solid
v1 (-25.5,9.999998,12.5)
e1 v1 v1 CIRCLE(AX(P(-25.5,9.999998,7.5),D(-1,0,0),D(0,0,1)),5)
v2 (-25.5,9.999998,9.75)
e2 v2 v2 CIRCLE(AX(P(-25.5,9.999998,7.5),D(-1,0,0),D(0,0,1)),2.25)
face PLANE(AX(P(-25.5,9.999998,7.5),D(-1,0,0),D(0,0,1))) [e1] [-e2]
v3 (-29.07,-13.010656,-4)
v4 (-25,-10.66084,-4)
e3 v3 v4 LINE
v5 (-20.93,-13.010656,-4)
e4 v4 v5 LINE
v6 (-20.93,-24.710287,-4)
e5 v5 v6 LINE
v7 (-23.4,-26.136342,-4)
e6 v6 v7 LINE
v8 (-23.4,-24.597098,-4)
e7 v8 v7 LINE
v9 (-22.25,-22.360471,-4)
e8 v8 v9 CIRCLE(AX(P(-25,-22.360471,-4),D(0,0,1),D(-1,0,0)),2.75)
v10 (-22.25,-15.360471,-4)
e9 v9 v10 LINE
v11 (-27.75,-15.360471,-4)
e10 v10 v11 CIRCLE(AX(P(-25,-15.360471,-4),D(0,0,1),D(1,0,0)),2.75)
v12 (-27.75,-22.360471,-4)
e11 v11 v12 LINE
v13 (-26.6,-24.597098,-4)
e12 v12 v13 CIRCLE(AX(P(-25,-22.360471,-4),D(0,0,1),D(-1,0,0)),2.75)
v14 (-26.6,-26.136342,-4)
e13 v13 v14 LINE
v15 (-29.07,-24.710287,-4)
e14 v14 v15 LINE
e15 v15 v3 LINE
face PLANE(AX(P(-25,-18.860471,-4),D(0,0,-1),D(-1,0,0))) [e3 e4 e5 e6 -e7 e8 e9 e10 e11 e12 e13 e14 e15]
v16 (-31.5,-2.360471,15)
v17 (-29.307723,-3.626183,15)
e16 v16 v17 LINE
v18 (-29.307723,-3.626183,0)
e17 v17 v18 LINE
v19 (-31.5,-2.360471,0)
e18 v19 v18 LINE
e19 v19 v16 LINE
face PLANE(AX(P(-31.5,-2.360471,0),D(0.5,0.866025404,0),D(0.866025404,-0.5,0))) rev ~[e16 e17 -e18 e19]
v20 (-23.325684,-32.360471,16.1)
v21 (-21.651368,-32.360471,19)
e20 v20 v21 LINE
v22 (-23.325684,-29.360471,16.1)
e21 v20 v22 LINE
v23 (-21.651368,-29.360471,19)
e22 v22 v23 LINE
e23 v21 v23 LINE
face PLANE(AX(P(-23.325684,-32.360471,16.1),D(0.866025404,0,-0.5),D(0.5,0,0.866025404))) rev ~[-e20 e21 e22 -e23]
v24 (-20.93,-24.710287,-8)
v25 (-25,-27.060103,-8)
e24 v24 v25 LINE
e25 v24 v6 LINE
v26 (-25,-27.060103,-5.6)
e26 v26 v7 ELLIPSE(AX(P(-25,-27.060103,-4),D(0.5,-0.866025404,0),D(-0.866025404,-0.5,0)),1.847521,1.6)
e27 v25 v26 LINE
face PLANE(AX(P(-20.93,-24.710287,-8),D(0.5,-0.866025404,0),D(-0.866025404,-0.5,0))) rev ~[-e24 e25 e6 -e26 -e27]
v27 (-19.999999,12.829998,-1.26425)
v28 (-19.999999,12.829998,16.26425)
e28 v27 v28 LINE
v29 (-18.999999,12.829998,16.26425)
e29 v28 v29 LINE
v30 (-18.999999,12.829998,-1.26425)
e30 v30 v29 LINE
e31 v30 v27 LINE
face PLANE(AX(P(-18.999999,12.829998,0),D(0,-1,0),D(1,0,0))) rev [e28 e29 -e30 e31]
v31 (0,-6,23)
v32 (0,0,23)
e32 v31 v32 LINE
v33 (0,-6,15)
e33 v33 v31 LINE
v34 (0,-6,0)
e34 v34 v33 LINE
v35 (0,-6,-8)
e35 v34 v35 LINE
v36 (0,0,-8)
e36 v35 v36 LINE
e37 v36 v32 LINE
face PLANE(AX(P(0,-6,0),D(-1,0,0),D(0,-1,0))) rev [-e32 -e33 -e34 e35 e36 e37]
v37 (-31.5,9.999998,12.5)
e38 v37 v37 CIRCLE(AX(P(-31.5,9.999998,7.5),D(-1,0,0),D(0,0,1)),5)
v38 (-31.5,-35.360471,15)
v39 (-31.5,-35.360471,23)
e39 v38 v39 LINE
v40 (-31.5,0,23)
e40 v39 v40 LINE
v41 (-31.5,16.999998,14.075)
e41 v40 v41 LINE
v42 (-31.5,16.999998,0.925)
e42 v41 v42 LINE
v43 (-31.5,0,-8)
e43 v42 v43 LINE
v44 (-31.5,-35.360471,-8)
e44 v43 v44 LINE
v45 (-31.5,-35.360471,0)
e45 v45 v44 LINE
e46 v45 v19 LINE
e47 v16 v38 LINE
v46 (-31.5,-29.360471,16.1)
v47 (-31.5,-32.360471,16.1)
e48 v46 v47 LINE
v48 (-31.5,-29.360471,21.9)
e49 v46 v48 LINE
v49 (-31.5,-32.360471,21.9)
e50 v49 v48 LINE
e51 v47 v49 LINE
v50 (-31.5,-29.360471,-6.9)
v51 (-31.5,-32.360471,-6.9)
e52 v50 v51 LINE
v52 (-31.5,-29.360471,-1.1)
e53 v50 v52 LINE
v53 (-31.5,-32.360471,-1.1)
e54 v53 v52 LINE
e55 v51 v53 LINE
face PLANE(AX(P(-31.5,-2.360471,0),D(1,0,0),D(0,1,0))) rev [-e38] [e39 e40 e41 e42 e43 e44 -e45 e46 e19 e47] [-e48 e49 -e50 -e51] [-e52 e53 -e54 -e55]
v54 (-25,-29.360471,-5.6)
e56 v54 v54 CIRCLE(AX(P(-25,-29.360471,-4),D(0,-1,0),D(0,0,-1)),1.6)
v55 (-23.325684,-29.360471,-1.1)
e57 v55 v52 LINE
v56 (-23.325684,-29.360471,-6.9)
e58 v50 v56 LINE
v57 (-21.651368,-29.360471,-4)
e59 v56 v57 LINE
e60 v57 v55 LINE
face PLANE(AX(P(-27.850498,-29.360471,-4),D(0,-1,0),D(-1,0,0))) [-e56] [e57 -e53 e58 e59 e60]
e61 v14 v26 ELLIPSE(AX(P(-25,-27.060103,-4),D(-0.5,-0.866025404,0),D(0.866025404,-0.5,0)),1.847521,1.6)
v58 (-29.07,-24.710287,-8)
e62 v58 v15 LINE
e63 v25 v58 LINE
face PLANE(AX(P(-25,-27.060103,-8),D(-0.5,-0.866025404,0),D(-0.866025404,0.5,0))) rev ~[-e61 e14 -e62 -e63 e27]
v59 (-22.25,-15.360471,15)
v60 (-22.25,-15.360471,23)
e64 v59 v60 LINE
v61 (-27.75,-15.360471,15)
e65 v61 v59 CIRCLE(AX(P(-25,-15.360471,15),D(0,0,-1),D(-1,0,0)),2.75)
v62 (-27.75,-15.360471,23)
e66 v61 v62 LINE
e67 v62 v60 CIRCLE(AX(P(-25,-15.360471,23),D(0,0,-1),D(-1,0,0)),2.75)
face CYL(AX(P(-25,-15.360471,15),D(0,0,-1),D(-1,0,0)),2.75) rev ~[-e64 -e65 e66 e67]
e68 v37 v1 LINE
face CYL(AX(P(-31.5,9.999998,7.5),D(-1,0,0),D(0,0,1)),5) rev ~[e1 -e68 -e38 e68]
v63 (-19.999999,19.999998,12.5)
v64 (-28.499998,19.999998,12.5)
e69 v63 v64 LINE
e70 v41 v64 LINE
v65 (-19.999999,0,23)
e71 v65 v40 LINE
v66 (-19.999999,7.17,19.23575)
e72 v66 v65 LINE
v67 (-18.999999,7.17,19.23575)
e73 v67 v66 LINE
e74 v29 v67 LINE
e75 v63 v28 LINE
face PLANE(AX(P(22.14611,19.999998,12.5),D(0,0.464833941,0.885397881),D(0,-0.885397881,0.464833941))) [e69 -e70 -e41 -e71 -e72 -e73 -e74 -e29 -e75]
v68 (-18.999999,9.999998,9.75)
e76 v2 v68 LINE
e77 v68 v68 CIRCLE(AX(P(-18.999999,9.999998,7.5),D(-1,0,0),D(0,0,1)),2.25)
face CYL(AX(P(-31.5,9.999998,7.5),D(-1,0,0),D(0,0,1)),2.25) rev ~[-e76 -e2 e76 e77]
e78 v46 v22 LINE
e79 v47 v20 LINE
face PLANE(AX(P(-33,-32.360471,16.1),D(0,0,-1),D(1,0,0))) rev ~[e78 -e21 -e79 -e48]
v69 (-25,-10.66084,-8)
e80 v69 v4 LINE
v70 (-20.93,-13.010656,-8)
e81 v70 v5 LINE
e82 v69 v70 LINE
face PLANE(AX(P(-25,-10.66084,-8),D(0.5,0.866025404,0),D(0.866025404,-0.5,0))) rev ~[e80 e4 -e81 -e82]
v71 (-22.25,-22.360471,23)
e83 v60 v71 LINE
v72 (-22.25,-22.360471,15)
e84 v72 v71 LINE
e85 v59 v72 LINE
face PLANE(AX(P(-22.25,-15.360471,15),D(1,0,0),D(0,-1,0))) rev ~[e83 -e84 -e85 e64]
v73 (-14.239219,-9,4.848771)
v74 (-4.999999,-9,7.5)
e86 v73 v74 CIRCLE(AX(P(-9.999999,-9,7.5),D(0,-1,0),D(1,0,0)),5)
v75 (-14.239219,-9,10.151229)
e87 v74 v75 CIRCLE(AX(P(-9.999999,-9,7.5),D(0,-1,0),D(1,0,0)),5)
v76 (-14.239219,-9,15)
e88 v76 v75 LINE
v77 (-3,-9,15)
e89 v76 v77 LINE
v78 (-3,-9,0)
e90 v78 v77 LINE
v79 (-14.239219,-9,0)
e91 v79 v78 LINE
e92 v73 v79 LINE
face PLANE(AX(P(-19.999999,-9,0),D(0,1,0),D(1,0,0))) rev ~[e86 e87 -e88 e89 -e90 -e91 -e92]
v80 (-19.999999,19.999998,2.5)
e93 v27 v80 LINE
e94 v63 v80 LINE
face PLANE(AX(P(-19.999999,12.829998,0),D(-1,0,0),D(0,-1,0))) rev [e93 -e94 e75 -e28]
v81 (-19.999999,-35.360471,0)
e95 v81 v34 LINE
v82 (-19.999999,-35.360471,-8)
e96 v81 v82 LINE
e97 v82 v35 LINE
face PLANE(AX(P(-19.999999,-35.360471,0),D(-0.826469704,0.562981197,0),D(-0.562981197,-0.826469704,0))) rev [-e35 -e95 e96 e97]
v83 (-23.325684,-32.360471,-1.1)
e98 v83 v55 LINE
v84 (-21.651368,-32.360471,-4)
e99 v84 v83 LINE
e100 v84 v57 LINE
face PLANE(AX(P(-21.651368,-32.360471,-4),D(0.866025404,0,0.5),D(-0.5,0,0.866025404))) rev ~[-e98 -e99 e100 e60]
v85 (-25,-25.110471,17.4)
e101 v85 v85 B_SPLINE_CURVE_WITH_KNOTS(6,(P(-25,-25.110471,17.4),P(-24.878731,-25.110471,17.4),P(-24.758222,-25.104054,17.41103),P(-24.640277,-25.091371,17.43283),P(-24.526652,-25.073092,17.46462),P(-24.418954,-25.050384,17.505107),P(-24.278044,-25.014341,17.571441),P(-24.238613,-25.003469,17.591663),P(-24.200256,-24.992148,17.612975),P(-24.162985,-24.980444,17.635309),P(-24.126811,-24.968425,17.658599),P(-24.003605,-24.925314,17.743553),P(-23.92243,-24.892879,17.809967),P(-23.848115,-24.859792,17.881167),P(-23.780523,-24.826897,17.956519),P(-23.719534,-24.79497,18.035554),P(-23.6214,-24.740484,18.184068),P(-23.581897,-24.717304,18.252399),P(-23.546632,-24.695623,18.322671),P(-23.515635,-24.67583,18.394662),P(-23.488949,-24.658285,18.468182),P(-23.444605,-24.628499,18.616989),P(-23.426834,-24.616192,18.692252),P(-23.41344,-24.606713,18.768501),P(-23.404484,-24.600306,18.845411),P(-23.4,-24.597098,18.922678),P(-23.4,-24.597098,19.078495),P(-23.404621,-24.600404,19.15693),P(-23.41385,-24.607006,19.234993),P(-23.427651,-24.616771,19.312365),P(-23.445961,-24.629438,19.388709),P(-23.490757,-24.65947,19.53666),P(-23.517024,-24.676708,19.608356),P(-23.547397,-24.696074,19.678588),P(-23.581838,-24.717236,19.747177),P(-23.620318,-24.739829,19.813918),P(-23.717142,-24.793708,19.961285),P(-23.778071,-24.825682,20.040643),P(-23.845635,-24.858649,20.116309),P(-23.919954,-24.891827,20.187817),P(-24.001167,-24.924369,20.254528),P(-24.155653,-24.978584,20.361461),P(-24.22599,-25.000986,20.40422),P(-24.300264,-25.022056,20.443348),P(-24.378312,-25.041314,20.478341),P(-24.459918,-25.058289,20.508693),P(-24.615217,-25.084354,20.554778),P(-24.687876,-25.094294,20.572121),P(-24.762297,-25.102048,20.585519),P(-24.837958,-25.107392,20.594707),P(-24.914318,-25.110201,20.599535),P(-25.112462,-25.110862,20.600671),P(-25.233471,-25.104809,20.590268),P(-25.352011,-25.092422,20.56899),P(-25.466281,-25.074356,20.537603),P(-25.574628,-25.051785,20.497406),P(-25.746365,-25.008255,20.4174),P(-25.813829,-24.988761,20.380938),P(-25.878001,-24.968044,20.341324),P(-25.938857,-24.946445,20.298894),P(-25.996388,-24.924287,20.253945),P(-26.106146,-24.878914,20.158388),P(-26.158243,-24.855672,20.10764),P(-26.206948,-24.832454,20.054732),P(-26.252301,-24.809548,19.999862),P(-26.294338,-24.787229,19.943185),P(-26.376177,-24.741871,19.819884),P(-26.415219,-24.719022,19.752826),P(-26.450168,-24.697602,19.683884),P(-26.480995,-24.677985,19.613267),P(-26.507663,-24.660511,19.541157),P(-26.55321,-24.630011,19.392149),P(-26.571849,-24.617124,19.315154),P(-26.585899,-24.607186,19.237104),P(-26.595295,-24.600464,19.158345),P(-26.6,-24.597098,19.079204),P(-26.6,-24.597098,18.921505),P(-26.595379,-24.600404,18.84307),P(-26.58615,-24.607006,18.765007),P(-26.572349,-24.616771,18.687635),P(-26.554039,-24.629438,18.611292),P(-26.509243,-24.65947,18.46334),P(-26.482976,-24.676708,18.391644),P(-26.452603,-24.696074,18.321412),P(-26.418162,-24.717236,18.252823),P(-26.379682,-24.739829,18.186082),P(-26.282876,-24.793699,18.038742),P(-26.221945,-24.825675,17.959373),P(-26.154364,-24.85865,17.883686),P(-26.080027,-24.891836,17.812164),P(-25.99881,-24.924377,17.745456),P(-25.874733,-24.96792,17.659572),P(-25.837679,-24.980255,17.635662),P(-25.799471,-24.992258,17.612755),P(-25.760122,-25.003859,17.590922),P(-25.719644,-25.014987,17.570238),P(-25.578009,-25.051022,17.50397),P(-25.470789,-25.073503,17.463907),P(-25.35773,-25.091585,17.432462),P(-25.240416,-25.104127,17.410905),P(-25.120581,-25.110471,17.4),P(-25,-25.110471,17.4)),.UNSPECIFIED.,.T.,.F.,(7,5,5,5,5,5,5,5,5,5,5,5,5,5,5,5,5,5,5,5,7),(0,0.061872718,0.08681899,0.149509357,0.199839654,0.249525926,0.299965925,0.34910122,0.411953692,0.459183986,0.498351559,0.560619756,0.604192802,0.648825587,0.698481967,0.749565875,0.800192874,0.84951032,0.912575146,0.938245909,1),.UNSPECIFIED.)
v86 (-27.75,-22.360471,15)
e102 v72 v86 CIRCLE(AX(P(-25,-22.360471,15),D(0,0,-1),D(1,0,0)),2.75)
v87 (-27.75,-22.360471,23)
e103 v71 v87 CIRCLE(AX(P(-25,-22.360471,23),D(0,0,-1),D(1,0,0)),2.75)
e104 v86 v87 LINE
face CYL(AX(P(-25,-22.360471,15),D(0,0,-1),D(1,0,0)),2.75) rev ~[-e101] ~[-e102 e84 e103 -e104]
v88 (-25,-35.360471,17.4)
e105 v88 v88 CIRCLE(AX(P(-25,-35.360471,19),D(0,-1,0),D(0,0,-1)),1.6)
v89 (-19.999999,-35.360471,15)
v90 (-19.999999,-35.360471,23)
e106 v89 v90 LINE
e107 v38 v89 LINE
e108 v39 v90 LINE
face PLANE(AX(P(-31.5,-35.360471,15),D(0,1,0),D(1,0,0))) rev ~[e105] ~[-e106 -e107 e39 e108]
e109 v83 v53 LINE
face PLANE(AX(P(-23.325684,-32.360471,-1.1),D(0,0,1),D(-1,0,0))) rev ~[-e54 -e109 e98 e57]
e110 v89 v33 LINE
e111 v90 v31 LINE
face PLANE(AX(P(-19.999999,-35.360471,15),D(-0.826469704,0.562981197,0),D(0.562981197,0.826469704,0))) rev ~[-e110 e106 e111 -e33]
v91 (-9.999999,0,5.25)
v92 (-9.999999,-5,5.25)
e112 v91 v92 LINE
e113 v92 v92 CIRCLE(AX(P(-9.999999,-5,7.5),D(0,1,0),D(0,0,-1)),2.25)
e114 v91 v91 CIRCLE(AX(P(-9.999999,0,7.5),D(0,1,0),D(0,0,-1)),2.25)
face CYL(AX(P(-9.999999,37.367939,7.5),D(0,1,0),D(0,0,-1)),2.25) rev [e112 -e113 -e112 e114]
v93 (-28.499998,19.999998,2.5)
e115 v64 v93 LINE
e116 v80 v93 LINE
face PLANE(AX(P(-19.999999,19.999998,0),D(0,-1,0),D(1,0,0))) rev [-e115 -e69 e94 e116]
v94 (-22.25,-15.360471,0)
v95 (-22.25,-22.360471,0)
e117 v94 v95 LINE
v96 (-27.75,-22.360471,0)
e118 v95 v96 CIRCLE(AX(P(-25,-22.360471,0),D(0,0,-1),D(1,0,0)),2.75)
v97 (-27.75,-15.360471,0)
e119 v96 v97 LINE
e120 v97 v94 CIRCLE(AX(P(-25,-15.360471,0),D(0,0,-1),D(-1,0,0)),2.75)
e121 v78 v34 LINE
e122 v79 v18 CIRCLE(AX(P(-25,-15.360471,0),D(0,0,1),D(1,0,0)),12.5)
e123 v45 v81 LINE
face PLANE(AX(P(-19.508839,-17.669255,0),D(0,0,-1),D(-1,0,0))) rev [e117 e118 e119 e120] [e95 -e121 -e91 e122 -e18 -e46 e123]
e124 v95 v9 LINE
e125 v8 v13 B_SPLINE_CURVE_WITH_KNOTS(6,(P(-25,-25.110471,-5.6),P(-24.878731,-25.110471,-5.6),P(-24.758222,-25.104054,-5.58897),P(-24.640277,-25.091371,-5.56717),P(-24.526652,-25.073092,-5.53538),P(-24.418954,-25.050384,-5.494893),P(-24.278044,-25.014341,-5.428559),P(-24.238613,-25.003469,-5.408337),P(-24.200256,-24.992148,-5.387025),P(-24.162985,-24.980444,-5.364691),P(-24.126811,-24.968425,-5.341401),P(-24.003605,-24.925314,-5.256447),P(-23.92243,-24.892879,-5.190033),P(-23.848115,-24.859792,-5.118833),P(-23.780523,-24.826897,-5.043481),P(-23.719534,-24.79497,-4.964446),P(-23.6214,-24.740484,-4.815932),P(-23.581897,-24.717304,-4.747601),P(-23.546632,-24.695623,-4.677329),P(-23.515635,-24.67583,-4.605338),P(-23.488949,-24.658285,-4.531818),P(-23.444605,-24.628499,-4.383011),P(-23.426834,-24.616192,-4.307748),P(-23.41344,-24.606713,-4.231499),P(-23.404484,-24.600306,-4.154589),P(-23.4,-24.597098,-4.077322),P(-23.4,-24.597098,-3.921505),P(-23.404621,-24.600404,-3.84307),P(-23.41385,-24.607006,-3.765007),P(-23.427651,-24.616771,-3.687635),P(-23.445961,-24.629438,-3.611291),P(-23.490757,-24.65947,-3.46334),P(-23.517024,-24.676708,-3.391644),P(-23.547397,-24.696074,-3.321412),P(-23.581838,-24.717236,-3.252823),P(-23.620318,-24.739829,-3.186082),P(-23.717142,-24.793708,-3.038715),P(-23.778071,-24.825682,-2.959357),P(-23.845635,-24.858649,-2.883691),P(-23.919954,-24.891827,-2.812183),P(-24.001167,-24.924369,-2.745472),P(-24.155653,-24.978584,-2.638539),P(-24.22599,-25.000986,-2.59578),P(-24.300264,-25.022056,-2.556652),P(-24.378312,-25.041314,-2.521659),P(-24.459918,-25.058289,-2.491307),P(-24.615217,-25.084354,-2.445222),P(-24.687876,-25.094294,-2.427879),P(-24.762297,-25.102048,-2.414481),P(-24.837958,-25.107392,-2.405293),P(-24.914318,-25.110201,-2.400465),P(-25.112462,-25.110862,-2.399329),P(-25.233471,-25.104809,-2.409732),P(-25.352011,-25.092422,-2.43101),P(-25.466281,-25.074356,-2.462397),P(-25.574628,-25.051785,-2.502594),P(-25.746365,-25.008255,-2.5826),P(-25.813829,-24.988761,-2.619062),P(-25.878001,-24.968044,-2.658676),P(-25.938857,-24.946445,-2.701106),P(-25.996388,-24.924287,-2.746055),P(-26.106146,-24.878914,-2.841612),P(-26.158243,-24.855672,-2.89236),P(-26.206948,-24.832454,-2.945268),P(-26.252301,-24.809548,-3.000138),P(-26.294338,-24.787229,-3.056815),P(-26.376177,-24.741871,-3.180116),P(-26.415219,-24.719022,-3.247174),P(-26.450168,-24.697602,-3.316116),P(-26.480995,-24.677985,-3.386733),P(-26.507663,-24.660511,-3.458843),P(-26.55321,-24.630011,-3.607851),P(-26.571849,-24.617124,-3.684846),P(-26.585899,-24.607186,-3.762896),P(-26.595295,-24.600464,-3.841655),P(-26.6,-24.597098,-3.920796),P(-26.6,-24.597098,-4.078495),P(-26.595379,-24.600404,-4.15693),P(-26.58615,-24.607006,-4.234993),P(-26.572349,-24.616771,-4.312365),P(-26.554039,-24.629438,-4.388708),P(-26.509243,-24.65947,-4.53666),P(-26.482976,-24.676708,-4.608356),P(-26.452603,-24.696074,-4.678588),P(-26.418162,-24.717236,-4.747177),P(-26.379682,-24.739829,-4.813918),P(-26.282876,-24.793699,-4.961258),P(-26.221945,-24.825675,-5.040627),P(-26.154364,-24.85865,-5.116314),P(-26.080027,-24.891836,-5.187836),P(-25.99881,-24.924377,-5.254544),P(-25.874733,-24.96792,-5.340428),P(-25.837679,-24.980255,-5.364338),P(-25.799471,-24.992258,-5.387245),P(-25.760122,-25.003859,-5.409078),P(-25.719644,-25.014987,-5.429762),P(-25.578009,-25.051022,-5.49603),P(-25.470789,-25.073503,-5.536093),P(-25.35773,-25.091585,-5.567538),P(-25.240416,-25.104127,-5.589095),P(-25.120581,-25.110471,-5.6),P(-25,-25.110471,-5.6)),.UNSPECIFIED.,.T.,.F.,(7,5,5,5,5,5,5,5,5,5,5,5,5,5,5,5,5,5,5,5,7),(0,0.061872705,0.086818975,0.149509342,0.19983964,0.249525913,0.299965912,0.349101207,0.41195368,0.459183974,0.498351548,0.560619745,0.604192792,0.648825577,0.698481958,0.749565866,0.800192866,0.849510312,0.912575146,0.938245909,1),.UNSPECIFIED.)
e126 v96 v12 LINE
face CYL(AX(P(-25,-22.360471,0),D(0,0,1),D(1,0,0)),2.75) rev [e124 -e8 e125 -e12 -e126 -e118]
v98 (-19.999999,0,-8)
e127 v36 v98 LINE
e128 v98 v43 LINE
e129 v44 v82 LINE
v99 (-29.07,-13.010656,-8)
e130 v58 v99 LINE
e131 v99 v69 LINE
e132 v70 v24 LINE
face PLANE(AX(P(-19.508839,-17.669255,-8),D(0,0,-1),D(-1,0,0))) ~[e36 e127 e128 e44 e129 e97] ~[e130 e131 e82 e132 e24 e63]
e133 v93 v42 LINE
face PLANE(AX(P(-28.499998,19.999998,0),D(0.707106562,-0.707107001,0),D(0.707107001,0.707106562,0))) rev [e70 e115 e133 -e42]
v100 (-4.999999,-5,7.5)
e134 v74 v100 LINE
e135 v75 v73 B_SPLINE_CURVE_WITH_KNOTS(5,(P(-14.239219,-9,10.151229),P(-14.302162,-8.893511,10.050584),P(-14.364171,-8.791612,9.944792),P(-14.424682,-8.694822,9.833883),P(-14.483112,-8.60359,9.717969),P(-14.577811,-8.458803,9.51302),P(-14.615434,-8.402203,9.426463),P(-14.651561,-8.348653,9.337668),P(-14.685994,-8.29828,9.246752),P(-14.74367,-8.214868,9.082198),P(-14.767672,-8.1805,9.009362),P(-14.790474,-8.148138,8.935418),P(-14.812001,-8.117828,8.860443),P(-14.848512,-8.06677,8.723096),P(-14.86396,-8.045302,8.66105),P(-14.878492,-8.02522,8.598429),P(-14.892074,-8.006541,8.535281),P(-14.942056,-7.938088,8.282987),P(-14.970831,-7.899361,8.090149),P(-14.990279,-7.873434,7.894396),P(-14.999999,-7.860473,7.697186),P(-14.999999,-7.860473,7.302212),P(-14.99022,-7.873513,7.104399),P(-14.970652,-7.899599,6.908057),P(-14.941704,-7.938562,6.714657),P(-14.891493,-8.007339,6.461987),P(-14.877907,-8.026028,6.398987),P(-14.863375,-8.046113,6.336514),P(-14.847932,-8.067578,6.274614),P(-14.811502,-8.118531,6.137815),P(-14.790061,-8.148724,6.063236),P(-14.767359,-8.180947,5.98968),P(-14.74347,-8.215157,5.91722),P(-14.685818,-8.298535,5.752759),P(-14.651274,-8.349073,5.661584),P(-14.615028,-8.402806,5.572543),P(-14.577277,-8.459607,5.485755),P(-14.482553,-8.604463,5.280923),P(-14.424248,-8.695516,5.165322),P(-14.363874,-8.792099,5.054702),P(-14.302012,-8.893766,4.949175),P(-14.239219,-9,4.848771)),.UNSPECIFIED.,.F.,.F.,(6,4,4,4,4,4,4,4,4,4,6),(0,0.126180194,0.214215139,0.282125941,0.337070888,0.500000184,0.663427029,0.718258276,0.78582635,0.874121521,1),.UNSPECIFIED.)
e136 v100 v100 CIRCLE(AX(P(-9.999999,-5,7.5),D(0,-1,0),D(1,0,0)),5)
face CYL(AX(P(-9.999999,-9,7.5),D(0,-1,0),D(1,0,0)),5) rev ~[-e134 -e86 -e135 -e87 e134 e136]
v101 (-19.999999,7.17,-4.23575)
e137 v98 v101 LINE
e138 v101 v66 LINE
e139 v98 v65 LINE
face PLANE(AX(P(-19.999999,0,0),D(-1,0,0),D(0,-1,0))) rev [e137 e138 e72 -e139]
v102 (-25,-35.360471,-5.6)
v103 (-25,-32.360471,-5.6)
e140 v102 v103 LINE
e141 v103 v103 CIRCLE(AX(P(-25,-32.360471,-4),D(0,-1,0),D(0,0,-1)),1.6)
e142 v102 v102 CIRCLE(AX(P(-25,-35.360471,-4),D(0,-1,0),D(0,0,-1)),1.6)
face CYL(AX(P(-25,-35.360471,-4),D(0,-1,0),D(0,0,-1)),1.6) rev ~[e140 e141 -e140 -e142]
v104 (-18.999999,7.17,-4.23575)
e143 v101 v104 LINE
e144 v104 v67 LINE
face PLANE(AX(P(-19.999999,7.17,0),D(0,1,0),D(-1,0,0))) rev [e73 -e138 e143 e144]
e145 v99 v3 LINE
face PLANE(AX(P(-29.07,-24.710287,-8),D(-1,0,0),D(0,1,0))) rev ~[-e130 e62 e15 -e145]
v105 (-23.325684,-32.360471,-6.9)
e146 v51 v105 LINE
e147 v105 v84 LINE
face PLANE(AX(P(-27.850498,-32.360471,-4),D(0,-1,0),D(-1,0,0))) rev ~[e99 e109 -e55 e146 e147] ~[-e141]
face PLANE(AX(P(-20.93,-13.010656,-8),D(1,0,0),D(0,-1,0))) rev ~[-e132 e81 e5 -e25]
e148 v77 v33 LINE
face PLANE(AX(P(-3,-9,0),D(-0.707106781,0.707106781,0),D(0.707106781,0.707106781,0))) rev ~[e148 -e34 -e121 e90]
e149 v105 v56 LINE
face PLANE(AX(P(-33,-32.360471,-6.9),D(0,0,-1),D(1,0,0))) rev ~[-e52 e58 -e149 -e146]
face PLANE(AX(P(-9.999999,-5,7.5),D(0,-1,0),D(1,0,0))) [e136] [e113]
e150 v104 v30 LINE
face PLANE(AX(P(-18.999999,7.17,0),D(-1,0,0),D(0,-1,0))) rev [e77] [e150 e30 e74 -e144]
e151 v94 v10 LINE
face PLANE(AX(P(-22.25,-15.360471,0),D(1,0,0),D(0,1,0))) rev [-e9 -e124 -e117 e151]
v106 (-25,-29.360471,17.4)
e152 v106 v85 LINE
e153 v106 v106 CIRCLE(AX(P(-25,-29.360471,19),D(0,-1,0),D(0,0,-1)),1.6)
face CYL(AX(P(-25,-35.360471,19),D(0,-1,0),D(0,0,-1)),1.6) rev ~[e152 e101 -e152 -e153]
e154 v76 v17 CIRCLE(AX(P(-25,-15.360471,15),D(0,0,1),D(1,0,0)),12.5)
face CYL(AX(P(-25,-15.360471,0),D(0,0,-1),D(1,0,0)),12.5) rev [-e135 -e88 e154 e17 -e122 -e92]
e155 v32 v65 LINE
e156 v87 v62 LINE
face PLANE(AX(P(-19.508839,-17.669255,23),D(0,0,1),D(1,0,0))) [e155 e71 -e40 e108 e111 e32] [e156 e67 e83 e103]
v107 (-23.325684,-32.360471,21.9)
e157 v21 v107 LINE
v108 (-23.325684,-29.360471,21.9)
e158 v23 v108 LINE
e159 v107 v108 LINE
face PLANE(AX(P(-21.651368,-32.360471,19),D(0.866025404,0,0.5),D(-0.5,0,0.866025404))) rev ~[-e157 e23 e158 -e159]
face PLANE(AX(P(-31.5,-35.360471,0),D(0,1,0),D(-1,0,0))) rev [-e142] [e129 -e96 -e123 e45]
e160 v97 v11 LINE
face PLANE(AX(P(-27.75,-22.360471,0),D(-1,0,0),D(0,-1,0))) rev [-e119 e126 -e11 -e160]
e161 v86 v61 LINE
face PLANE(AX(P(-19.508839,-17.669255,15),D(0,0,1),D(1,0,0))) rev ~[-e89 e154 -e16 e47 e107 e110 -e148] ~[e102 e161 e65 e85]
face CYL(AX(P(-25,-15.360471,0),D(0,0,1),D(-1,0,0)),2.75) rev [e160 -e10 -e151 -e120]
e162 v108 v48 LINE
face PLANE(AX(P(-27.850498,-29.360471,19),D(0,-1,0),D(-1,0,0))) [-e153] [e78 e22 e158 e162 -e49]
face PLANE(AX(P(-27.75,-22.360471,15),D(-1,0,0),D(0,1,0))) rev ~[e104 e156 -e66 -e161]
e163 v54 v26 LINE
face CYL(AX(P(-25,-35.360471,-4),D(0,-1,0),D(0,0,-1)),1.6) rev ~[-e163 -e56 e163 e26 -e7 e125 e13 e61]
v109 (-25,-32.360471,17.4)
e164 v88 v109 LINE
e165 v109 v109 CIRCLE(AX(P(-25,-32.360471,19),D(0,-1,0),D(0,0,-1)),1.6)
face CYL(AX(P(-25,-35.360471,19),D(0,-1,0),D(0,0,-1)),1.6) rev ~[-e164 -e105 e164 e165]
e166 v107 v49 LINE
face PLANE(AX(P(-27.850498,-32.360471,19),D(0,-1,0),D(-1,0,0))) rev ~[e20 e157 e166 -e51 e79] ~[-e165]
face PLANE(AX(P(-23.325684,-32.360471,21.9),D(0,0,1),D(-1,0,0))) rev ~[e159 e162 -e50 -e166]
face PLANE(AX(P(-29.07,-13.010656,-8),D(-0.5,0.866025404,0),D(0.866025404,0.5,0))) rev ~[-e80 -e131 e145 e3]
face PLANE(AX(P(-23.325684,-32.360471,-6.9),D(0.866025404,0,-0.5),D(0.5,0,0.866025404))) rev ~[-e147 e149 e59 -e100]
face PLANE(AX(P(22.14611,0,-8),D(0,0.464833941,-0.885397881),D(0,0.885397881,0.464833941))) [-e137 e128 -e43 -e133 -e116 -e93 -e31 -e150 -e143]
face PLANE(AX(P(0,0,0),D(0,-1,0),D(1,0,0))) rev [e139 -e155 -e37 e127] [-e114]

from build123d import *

# Parameters (mm, degrees)
RESSALTO_EXTRUS_O1_DEPTH   = 15
ESBO_O2_R                  = 2.25
CORTE_EXTRUS_O1_DEPTH      = 41.215045787
CORTE_EXTRUS_O2_DEPTH      = 46.367938746
CORTE_EXTRUS_O2_DEPTH_BACK = 46.367938746
ESBO_O3_R                  = 2.25
RESSALTO_EXTRUS_O2_DEPTH   = 8
CORTE_EXTRUS_O3_DEPTH      = 4
CORTE_EXTRUS_O4_REACH      = 69.72
CORTE_EXTRUS_O4_END_RADIUS = 2.75
ESBO_O6_R                  = 1.6
CORTE_EXTRUS_O5_DEPTH      = 3
ESBO_O8_R                  = 12.5
CORTE_EXTRUS_O6_DEPTH      = 15
CORTE_EXTRUS_O7_DEPTH      = 53.646110388
CORTE_EXTRUS_O7_DEPTH_BACK = 53.646110388
ESBO_O10_R                 = 5
CORTE_EXTRUS_O8_DEPTH      = 6
ESBO_O11_R                 = 5
CORTE_EXTRUS_O9_DEPTH      = 4


with BuildPart() as part:
    # Esboço1 → Ressalto-extrusão1 (new body)
    with BuildSketch(Plane.XY):
        Polygon((-28.499998137, 19.99999769), (-31.5, 16.99999769), (-31.5, -2.360471354), (-19.999999046, -9), (-3, -9), (0, -6), (0, 0), (-19.999999046, 0), (-19.999999046, 7.17), (-18.999999046, 7.17), (-18.999999046, 12.82999769), (-19.999999046, 12.82999769), (-19.999999046, 19.99999769), align=None)
    extrude(amount=RESSALTO_EXTRUS_O1_DEPTH)

    # Esboço2 → Corte-extrusão1 (cut, through all)
    with BuildSketch(Plane.ZY.offset(31.5)):
        with Locations((7.5, 9.99999769)):
            Circle(ESBO_O2_R)
    extrude(amount=-CORTE_EXTRUS_O1_DEPTH, mode=Mode.SUBTRACT)

    # Esboço3 → Corte-extrusão2 (cut, two sides: drawn at the far end of the back side and taken through both)
    with BuildSketch(Plane.XZ.offset(9).offset(-CORTE_EXTRUS_O2_DEPTH_BACK)):
        with Locations(Location((-9.999999046, 7.5, 0), (0, 0, 270))):
            Circle(ESBO_O3_R)
    extrude(amount=CORTE_EXTRUS_O2_DEPTH + CORTE_EXTRUS_O2_DEPTH_BACK, mode=Mode.SUBTRACT)

    # Esboço4 → Ressalto-extrusão2 (add)
    # profile 1 of 2: a face of its own
    with BuildSketch(Plane.XY.offset(15)):
        Polygon((-19.999999046, -9), (-31.5, -2.360471354), (-31.5, -35.360471354), (-19.999999046, -35.360471354), (0, -6), (-3, -9), align=None)
        with BuildLine():
            ThreePointArc((-22.25, -22.360471354), (-25, -25.110471354), (-27.75, -22.360471354))
            Line((-27.75, -22.360471354), (-27.75, -15.360471354))
            ThreePointArc((-27.75, -15.360471354), (-25, -12.610471354), (-22.25, -15.360471354))
            Line((-22.25, -15.360471354), (-22.25, -22.360471354))
        make_face(mode=Mode.SUBTRACT)
    # profile 2 of 2: a face of its own
    with BuildSketch(Plane.XY.offset(15)):
        Polygon((-31.5, 16.99999769), (-31.5, -2.360471354), (-19.999999046, -9), (-3, -9), (0, -6), (0, 0), (-19.999999046, 0), (-19.999999046, 7.17), (-18.999999046, 7.17), (-18.999999046, 12.82999769), (-19.999999046, 12.82999769), (-19.999999046, 19.99999769), (-28.499998137, 19.99999769), align=None)
    ressalto_extrus_o2 = extrude(amount=RESSALTO_EXTRUS_O2_DEPTH)

    # Espelhar1: Ressalto-extrusão2 across plane
    add(ressalto_extrus_o2.mirror(Plane.XY.offset(7.5)))

    # Esboço5 → Corte-extrusão3 (cut)
    with BuildSketch(Plane(origin=(0, 0, -8), x_dir=(-1, 0, 0), z_dir=(0, 0, -1))):
        Polygon((20.93, -17.9), (20.93, -24.710286949), (25, -27.060102545), (29.07, -24.710286949), (29.07, -17.9), (29.07, -13.010655758), (25, -10.660840163), (20.93, -13.010655758), align=None)
        with BuildLine():
            Line((22.25, -22.360471354), (22.25, -15.360471354))
            ThreePointArc((22.25, -15.360471354), (25, -12.610471354), (27.75, -15.360471354))
            Line((27.75, -15.360471354), (27.75, -22.360471354))
            ThreePointArc((27.75, -22.360471354), (25, -25.110471354), (22.25, -22.360471354))
        make_face(mode=Mode.SUBTRACT)
    extrude(amount=-CORTE_EXTRUS_O3_DEPTH, mode=Mode.SUBTRACT)

    # Corte-extrusão4: up to this cylinder (the profile starts outside it)
    corte_extrus_o4_end = Plane(origin=(-25, -22.360471354, 7.5), z_dir=(0, 0, -1)) * Cylinder(CORTE_EXTRUS_O4_END_RADIUS, 168.94, mode=Mode.PRIVATE)
    # Esboço6 → Corte-extrusão4 (cut, up to the surface)
    with BuildSketch(Plane.XZ.offset(35.360471354), mode=Mode.PRIVATE) as corte_extrus_o4_sk1:
        with Locations(Location((-25, 19, 0), (0, 0, 270))):
            Circle(ESBO_O6_R)
    corte_extrus_o4_tool1 = extrude(corte_extrus_o4_sk1.sketch, amount=-CORTE_EXTRUS_O4_REACH, mode=Mode.PRIVATE) - corte_extrus_o4_end
    add(corte_extrus_o4_tool1.solids().sort_by_distance((-25, -35.360471, 19))[0], mode=Mode.SUBTRACT)
    # Esboço6 → Corte-extrusão4 (cut, up to the surface)
    with BuildSketch(Plane.XZ.offset(35.360471354), mode=Mode.PRIVATE) as corte_extrus_o4_sk2:
        with Locations(Location((-25, -4, 0), (0, 0, 270))):
            Circle(ESBO_O6_R)
    corte_extrus_o4_tool2 = extrude(corte_extrus_o4_sk2.sketch, amount=-CORTE_EXTRUS_O4_REACH, mode=Mode.PRIVATE) - corte_extrus_o4_end
    add(corte_extrus_o4_tool2.solids().sort_by_distance((-25, -35.360471, -4))[0], mode=Mode.SUBTRACT)

    # Esboço7 → Corte-extrusão5 (cut)
    with BuildSketch(Plane(origin=(0, -32.360471354, 0), x_dir=(-1, 0, 0), z_dir=(0, -1, 0))):
        Polygon((26.674315781, -21.9), (33, -21.9), (33, -16.1), (26.674315781, -16.1), (23.325684219, -16.1), (21.651368439, -19), (23.325684219, -21.9), align=None)
        Polygon((26.674315781, 6.9), (23.325684219, 6.9), (21.651368439, 4), (23.325684219, 1.1), (26.674315781, 1.1), (33, 1.1), (33, 6.9), align=None)
    extrude(amount=-CORTE_EXTRUS_O5_DEPTH, mode=Mode.SUBTRACT)

    # Esboço8 → Corte-extrusão6 (cut)
    with BuildSketch(Plane.XY):
        with Locations((-25, -15.360471354)):
            Circle(ESBO_O8_R)
    extrude(amount=CORTE_EXTRUS_O6_DEPTH, mode=Mode.SUBTRACT)

    # Esboço9 → Corte-extrusão7 (cut, two sides: drawn at the far end of the back side and taken through both)
    with BuildSketch(Plane.ZY.offset(31.5).offset(-CORTE_EXTRUS_O7_DEPTH_BACK)):
        Polygon((-8, 0), (2.5, 19.99999769), (12.5, 19.99999769), (23, 0), (23, 29.458791051), (-8, 29.458791051), align=None)
    extrude(amount=CORTE_EXTRUS_O7_DEPTH + CORTE_EXTRUS_O7_DEPTH_BACK, mode=Mode.SUBTRACT)

    # Esboço10 → Corte-extrusão8 (cut)
    with BuildSketch(Plane.ZY.offset(31.5)):
        with Locations((7.5, 9.99999769)):
            Circle(ESBO_O10_R)
    extrude(amount=-CORTE_EXTRUS_O8_DEPTH, mode=Mode.SUBTRACT)

    # Esboço11 → Corte-extrusão9 (cut)
    with BuildSketch(Plane.XZ.offset(9)):
        with Locations((-9.999999046, 7.5)):
            Circle(ESBO_O11_R)
    extrude(amount=-CORTE_EXTRUS_O9_DEPTH, mode=Mode.SUBTRACT)


solid = part.part
